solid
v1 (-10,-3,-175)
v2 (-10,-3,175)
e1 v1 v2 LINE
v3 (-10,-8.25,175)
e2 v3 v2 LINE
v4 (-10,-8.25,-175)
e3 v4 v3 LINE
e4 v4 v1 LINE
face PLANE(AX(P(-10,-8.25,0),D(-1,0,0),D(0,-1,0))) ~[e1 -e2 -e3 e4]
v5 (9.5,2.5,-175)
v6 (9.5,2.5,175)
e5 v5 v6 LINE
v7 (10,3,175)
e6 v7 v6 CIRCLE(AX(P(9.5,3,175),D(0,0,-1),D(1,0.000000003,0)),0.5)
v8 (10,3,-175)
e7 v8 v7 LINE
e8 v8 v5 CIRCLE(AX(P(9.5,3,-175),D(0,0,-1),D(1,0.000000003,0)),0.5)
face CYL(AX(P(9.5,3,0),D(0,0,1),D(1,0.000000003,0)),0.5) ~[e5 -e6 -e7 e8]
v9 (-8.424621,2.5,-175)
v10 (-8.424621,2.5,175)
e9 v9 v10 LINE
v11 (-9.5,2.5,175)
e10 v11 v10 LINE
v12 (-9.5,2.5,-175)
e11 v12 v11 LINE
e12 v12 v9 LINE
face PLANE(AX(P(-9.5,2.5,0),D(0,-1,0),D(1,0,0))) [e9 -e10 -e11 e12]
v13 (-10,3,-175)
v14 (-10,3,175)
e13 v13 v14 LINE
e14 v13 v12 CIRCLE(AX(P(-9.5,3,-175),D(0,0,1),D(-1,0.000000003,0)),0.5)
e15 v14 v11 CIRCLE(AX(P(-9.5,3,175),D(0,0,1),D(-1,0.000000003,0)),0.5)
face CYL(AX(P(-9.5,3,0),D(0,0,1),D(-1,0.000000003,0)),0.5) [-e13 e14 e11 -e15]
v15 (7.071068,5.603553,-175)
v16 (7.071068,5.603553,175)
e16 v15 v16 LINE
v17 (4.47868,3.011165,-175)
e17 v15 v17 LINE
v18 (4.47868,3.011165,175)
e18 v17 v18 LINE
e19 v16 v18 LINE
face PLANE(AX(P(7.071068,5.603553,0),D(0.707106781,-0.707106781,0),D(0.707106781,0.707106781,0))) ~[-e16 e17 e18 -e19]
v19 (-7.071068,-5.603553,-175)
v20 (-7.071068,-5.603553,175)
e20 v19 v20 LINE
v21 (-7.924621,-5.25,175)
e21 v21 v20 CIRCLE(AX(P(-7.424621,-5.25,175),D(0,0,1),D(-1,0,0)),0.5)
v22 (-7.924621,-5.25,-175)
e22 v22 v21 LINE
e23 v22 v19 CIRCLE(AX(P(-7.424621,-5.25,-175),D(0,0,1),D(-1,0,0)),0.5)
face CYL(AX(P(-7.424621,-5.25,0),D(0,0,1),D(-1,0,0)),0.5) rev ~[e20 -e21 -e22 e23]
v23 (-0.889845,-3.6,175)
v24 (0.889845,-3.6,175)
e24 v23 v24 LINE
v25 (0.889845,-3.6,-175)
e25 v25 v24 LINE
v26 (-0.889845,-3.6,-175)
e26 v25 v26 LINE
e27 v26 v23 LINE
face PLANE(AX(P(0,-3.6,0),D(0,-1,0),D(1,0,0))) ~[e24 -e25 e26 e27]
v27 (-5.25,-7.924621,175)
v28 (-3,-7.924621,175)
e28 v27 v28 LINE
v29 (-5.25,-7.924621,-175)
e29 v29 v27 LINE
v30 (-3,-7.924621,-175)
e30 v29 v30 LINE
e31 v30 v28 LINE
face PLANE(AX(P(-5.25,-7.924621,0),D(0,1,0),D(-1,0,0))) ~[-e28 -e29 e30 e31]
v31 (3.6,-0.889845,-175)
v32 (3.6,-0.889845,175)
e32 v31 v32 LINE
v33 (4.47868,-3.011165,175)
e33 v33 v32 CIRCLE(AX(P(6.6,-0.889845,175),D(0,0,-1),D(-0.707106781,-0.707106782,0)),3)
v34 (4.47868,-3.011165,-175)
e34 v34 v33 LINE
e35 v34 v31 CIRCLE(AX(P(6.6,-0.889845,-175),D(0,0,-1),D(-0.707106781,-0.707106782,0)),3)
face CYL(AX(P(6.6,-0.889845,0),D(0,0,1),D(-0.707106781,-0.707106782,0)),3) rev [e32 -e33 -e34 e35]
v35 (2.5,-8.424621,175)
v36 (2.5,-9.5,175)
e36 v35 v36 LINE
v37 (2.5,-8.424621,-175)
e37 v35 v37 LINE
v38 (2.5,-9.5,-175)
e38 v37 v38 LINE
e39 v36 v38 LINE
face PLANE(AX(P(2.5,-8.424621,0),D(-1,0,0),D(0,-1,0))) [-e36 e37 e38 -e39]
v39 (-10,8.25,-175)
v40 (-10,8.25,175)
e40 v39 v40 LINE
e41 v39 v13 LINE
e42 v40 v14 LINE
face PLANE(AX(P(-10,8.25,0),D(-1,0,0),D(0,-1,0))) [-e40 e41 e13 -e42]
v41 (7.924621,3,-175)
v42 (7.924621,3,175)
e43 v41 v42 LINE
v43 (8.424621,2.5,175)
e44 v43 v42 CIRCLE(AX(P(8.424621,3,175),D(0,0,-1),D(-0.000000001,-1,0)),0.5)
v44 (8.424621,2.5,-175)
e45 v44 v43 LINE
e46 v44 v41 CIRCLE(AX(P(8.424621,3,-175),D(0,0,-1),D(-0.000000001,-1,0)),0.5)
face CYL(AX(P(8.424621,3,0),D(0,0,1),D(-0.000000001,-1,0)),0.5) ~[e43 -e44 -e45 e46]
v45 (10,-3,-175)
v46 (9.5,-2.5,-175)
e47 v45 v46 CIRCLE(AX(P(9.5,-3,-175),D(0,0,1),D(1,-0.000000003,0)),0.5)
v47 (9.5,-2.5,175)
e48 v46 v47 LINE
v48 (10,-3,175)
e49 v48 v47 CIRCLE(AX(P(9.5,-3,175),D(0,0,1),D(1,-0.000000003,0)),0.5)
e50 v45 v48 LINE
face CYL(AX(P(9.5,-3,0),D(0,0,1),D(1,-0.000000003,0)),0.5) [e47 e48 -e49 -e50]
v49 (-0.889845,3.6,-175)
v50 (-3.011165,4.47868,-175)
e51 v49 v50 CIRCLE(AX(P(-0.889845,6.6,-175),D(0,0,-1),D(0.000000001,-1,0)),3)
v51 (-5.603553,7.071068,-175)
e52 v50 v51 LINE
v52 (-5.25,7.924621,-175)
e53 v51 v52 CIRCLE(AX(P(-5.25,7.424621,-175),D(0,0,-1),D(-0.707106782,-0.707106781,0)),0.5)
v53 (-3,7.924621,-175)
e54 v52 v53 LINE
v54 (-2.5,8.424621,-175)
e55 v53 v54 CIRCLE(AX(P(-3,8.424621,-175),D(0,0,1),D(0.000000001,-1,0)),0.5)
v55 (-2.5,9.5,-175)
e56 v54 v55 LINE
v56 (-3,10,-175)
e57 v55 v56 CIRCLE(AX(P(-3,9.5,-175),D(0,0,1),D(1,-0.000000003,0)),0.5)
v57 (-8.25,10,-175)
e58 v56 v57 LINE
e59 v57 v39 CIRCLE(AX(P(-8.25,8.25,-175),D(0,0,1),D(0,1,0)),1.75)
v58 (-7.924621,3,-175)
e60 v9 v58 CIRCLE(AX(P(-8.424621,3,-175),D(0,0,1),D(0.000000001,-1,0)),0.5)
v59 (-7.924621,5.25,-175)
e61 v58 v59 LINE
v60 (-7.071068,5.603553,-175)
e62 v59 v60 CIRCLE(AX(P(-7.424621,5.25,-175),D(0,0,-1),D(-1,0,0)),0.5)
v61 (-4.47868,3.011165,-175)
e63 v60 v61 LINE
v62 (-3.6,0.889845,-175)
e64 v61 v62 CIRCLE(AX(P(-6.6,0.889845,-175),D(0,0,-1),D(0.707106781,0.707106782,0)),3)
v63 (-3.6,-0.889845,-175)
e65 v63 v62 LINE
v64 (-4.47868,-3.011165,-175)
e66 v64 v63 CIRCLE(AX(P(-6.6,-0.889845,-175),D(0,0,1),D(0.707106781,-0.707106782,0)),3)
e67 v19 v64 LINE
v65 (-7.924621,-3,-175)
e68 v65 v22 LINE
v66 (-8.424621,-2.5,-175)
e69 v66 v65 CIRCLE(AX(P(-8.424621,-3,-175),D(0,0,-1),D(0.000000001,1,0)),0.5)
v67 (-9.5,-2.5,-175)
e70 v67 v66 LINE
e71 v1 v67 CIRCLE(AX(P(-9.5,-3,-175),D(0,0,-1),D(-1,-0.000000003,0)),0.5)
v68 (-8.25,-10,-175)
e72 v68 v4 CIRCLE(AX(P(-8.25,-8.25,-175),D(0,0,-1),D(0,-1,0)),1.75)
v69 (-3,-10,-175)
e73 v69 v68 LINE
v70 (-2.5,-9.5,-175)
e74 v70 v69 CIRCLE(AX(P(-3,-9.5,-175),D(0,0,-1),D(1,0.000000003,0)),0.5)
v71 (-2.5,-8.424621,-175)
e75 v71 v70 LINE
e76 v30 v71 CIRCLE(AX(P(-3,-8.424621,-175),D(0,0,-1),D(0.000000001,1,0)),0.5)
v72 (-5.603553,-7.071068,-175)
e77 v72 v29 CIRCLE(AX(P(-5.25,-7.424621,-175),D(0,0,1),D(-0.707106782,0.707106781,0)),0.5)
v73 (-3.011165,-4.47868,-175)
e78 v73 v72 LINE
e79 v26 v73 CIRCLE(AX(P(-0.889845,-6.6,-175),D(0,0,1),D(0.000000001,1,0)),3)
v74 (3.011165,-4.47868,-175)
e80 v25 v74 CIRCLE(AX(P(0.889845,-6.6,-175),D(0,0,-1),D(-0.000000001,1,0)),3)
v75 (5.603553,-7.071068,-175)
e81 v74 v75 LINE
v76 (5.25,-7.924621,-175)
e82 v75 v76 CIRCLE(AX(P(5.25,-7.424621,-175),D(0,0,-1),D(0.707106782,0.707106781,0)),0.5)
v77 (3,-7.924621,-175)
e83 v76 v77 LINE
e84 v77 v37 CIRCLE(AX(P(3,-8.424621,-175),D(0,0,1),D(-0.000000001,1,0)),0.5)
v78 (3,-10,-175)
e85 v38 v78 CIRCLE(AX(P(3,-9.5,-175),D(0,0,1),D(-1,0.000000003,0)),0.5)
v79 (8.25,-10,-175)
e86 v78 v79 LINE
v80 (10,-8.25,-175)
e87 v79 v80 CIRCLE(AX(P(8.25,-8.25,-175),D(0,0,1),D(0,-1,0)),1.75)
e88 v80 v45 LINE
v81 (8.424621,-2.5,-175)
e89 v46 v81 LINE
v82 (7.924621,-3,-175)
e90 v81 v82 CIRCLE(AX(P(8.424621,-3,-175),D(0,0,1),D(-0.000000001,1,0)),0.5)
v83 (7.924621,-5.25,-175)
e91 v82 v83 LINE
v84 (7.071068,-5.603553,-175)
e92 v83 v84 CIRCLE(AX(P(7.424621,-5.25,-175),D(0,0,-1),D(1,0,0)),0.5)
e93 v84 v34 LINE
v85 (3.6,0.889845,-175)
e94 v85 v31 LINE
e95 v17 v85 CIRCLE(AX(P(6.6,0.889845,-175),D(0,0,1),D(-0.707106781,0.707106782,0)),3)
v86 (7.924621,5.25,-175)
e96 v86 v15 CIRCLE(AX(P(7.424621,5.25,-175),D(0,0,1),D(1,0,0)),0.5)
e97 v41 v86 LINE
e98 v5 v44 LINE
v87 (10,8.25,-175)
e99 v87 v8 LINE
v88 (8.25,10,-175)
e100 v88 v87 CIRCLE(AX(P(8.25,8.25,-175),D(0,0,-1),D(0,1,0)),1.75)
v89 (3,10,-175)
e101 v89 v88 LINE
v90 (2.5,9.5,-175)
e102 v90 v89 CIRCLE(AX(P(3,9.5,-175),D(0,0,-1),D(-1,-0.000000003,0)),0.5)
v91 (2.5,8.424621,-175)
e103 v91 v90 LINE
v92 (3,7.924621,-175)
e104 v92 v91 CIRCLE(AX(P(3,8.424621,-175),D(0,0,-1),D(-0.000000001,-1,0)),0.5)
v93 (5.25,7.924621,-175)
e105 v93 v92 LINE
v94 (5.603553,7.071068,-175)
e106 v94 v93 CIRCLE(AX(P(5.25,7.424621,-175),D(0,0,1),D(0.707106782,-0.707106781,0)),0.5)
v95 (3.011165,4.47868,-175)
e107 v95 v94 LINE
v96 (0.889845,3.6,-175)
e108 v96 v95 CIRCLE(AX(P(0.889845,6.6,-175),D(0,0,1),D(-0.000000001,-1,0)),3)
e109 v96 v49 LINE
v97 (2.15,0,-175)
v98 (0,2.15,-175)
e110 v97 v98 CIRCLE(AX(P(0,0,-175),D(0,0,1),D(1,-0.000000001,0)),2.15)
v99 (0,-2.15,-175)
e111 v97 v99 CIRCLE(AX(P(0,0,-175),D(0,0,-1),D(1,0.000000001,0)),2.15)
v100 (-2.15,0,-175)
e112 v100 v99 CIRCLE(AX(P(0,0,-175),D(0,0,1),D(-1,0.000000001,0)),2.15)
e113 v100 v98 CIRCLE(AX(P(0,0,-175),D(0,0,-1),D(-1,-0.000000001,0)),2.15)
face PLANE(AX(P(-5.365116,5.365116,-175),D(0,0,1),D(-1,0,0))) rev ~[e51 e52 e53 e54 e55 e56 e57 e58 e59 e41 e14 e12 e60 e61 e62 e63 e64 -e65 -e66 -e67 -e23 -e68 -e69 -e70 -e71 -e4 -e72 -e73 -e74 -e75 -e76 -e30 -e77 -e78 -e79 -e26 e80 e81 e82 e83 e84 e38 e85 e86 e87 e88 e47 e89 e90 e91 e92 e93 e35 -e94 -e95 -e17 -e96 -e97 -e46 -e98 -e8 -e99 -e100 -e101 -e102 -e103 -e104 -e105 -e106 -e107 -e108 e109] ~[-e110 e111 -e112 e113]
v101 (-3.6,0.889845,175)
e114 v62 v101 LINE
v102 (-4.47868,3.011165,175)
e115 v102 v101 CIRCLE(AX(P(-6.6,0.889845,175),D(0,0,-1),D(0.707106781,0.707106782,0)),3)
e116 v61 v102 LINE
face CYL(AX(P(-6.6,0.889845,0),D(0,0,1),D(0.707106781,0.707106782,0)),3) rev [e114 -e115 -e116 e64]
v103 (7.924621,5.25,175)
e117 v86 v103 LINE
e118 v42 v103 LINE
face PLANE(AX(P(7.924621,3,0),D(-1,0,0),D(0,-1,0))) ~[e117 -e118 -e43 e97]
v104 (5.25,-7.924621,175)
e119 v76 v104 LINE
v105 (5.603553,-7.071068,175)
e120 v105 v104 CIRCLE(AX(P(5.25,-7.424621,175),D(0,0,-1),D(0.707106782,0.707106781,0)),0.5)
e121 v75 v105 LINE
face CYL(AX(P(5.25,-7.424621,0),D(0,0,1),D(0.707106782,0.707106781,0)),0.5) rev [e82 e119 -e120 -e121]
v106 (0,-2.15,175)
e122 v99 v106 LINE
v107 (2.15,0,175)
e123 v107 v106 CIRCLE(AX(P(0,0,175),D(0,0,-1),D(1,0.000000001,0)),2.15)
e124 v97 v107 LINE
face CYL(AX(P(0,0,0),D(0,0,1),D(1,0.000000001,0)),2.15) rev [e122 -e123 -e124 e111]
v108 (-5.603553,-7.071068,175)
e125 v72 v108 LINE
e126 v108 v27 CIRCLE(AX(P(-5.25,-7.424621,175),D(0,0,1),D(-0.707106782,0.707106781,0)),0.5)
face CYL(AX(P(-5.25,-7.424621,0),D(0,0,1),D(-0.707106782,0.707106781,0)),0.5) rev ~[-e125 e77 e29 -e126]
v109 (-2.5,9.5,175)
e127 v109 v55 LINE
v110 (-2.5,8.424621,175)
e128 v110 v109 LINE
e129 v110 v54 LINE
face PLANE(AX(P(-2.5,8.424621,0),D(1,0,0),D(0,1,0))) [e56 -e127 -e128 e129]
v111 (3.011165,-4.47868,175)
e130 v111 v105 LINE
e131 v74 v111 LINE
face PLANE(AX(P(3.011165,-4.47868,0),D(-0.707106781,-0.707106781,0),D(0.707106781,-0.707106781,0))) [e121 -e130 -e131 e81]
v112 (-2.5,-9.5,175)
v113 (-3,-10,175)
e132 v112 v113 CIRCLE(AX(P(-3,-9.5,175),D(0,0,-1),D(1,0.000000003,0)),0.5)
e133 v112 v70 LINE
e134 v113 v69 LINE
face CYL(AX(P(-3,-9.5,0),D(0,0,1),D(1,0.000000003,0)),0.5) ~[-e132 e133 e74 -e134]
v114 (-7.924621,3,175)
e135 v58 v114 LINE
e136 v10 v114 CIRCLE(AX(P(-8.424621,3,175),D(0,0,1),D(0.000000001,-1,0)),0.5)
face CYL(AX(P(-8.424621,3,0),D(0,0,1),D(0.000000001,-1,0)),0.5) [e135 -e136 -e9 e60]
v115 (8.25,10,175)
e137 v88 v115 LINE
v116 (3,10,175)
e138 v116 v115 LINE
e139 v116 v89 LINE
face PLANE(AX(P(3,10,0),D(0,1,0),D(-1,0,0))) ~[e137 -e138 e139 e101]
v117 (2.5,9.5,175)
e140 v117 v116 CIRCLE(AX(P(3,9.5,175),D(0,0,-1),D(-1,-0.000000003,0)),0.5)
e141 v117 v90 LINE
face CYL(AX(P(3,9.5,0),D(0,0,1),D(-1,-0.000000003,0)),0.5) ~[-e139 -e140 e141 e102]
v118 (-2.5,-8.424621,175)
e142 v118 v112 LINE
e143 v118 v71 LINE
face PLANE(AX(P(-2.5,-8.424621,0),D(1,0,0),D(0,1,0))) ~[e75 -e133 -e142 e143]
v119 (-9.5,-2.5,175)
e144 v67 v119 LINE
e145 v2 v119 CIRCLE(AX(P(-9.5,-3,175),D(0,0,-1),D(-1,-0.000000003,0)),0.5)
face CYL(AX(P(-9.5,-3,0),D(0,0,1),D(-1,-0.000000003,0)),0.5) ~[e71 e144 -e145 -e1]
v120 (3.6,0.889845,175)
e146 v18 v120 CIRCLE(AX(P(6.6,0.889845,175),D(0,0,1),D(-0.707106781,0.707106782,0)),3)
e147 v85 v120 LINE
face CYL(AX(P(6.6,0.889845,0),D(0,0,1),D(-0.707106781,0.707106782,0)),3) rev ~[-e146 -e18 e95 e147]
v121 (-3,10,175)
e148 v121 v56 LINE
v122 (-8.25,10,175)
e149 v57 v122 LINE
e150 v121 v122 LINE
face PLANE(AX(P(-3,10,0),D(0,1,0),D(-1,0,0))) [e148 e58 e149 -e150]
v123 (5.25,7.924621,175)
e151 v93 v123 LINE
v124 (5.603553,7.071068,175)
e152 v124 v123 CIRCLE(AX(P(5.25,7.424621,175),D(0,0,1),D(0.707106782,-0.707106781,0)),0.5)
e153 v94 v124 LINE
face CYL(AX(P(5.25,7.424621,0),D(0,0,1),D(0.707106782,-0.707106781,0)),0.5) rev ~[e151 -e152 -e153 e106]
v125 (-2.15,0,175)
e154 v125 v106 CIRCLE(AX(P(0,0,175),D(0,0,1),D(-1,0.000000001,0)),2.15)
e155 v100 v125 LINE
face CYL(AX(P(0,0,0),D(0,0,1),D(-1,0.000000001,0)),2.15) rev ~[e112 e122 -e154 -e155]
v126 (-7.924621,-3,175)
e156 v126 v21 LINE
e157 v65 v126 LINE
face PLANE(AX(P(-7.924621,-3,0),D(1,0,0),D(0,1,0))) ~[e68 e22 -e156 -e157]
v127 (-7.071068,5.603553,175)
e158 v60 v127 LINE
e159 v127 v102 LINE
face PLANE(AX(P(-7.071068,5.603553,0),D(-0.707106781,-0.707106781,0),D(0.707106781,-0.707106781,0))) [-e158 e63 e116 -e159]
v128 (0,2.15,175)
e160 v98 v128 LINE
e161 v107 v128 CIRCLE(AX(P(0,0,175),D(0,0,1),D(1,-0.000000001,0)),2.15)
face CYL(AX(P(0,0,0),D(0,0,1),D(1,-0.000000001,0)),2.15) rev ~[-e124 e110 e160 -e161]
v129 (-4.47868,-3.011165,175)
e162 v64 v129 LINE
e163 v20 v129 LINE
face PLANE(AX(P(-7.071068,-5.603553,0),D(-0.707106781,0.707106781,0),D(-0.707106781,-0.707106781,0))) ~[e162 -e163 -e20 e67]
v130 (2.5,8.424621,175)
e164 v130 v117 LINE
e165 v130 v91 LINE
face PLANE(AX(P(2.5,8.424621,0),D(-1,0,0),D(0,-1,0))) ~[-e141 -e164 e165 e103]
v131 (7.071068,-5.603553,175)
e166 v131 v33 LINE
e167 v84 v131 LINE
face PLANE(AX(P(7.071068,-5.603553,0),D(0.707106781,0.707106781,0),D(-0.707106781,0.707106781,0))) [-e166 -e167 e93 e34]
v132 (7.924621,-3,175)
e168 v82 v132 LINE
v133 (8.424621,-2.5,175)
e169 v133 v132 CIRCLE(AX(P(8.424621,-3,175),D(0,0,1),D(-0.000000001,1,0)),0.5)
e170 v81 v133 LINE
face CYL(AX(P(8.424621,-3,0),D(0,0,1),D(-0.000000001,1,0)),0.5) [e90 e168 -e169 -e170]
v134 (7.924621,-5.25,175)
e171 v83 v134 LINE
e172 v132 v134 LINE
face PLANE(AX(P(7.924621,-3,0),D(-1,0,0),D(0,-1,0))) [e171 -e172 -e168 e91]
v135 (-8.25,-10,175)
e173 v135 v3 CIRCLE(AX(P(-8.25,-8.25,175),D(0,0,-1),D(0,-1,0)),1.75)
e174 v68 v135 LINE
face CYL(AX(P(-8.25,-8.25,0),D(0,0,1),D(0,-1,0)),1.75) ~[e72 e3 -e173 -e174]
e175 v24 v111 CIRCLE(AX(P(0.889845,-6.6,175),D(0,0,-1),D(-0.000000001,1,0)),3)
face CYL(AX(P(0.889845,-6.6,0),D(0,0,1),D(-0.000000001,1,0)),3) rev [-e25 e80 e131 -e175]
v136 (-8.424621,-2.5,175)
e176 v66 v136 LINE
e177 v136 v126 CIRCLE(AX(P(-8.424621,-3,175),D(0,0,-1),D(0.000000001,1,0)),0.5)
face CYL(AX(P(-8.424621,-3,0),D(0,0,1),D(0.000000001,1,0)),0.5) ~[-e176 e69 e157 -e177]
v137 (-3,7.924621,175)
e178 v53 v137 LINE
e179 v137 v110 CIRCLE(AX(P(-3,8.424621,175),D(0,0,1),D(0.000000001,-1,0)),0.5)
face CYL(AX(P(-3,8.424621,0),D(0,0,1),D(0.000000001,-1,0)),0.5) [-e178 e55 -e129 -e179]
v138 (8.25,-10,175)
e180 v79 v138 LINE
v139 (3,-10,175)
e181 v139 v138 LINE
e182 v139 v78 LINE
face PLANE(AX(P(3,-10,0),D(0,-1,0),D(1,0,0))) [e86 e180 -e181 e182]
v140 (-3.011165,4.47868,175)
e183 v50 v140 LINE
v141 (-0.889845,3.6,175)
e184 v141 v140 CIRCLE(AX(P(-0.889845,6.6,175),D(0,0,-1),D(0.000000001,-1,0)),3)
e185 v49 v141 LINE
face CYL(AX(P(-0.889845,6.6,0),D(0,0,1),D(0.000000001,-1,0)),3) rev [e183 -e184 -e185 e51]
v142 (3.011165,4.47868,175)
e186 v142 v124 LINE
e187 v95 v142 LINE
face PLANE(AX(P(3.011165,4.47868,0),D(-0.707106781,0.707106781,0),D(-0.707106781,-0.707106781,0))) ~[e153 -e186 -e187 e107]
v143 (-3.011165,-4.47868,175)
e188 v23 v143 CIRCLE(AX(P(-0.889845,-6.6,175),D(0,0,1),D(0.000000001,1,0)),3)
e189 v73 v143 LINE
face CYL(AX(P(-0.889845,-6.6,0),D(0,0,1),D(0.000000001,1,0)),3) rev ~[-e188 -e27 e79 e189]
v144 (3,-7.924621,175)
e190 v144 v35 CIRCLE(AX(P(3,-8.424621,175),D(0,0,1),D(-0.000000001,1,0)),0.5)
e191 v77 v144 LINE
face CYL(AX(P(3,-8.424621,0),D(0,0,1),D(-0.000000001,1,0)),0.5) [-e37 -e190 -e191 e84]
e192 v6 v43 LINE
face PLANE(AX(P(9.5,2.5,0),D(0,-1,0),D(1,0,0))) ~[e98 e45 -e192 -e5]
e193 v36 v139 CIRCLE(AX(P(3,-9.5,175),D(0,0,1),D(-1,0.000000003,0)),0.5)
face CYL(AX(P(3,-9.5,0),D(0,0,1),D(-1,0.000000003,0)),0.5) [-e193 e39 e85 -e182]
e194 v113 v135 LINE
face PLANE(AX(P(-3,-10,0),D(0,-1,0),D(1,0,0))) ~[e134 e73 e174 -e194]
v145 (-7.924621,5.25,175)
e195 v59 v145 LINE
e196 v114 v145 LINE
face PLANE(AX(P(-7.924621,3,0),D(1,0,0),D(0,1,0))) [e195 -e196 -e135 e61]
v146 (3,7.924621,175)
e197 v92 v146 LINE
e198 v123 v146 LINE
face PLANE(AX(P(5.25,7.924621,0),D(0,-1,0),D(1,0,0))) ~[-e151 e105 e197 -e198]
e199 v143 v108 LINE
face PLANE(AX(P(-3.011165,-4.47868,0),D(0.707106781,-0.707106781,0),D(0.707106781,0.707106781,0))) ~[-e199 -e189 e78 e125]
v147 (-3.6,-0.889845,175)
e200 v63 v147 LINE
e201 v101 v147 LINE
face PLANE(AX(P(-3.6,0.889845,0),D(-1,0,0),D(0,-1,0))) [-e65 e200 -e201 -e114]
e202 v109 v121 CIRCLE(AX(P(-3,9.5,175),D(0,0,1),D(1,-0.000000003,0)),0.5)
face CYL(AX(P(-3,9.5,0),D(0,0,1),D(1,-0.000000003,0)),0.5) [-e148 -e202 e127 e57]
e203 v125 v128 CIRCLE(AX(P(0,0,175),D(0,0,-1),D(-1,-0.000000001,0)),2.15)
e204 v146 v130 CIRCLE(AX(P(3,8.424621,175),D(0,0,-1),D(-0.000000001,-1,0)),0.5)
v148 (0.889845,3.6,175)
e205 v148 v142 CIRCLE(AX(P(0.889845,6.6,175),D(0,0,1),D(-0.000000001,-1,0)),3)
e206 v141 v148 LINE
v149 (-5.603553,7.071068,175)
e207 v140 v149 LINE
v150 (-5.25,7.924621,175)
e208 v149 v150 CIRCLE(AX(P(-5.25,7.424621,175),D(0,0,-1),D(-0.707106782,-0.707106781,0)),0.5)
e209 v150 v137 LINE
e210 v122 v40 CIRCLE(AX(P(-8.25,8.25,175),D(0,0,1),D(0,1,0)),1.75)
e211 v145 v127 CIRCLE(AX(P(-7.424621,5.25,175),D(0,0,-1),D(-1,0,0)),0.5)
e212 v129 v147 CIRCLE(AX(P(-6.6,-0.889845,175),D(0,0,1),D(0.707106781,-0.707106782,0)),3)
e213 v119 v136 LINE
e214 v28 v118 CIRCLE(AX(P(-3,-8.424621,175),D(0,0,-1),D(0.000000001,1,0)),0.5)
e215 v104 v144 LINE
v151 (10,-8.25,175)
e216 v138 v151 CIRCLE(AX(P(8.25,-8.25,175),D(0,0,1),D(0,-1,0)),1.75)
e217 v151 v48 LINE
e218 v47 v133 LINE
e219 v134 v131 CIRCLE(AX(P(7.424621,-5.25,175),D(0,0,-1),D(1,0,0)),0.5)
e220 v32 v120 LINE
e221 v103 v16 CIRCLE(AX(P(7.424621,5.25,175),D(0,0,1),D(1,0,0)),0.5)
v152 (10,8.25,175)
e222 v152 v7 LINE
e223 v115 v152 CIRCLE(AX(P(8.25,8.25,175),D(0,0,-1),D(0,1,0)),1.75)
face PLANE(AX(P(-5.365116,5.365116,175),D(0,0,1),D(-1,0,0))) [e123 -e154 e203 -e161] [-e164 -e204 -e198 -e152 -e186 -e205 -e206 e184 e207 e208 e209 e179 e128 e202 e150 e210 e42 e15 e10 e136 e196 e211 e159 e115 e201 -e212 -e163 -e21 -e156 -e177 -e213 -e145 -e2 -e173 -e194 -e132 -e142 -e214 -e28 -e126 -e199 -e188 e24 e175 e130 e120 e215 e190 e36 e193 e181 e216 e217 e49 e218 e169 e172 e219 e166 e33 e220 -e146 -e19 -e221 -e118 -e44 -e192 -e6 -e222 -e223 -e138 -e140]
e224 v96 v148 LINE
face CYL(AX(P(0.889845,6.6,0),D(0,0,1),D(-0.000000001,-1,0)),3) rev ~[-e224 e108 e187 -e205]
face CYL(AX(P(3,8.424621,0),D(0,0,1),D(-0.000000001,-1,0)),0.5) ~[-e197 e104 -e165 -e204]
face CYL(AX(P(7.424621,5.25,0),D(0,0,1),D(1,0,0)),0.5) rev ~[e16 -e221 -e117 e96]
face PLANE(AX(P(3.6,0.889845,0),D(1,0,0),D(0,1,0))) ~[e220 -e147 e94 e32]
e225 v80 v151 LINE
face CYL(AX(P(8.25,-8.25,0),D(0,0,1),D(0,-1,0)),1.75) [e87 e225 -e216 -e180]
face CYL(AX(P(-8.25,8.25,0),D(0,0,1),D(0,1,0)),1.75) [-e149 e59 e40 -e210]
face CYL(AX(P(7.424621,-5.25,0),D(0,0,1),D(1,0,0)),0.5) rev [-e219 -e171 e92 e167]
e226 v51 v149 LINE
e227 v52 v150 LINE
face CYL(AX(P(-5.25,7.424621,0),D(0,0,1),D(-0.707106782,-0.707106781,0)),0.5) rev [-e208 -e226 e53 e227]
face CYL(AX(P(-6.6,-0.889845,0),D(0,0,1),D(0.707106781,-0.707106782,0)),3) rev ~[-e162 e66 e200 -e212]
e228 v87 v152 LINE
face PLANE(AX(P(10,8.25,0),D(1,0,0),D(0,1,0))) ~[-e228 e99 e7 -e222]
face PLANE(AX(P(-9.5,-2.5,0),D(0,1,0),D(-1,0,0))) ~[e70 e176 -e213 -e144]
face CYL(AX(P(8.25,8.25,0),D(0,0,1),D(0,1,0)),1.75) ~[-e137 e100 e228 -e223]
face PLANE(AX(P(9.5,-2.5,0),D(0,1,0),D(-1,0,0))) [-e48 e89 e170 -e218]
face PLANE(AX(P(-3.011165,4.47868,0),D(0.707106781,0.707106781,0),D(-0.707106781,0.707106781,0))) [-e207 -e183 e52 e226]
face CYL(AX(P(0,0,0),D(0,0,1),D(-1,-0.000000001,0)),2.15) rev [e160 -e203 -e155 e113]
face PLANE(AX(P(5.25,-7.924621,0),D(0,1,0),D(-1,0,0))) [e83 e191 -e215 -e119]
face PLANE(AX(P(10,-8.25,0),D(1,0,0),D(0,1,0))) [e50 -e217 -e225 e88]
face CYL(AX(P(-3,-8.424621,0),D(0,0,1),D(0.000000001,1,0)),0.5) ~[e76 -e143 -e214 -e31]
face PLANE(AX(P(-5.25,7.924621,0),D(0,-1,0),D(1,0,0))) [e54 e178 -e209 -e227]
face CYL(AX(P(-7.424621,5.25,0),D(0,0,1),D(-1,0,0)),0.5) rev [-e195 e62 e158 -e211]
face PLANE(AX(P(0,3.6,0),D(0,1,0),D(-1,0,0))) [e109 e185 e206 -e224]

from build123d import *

# Parameters (mm, degrees)
BOSS_EXTRUDE1_DEPTH = 175


with BuildPart() as part:
    # Sketch4 → Boss-Extrude1 (new, symmetric)
    with BuildSketch(Plane.XY):
        with BuildLine():
            Line((3, -10), (8.25, -10))
            ThreePointArc((8.25, -10), (9.487436867, -9.487436867), (10, -8.25))
            Line((10, -8.25), (10, -3))
            ThreePointArc((10, -3), (9.853553391, -2.646446609), (9.5, -2.5))
            Line((9.5, -2.5), (8.424621202, -2.5))
            ThreePointArc((8.424621202, -2.5), (8.071067812, -2.646446609), (7.924621202, -3))
            Line((7.924621202, -3), (7.924621202, -5.25))
            ThreePointArc((7.924621202, -5.25), (7.615962919, -5.711939766), (7.071067812, -5.603553391))
            Line((7.071067812, -5.603553391), (4.478679656, -3.011165235))
            ThreePointArc((4.478679656, -3.011165235), (3.828361402, -2.037895189), (3.6, -0.889844892))
            Line((3.6, -0.889844892), (3.6, 0))
            Line((3.6, 0), (2.15, 0))
            ThreePointArc((2.15, 0), (1.52027958, -1.52027958), (0, -2.15))
            Line((0, -2.15), (0, -3.6))
            Line((0, -3.6), (0.889844892, -3.6))
            ThreePointArc((0.889844892, -3.6), (2.037895189, -3.828361402), (3.011165235, -4.478679656))
            Line((3.011165235, -4.478679656), (5.603553391, -7.071067812))
            ThreePointArc((5.603553391, -7.071067812), (5.711939766, -7.615962919), (5.25, -7.924621202))
            Line((5.25, -7.924621202), (3, -7.924621202))
            ThreePointArc((3, -7.924621202), (2.646446609, -8.071067812), (2.5, -8.424621202))
            Line((2.5, -8.424621202), (2.5, -9.5))
            ThreePointArc((2.5, -9.5), (2.646446609, -9.853553391), (3, -10))
        make_face()
    extrude(amount=BOSS_EXTRUDE1_DEPTH, both=True)

    # Mirror1: part across plane


with BuildPart() as part_1:
    add(part.part)
    add(part.part.mirror(Plane(origin=(0, 0, 0), x_dir=(0, 0, 1), z_dir=(1, 0, 0))))

    # Mirror2: part across plane


with BuildPart() as part_2:
    add(part_1.part)
    add(part_1.part.mirror(Plane.ZX))


solid = part_2.part
